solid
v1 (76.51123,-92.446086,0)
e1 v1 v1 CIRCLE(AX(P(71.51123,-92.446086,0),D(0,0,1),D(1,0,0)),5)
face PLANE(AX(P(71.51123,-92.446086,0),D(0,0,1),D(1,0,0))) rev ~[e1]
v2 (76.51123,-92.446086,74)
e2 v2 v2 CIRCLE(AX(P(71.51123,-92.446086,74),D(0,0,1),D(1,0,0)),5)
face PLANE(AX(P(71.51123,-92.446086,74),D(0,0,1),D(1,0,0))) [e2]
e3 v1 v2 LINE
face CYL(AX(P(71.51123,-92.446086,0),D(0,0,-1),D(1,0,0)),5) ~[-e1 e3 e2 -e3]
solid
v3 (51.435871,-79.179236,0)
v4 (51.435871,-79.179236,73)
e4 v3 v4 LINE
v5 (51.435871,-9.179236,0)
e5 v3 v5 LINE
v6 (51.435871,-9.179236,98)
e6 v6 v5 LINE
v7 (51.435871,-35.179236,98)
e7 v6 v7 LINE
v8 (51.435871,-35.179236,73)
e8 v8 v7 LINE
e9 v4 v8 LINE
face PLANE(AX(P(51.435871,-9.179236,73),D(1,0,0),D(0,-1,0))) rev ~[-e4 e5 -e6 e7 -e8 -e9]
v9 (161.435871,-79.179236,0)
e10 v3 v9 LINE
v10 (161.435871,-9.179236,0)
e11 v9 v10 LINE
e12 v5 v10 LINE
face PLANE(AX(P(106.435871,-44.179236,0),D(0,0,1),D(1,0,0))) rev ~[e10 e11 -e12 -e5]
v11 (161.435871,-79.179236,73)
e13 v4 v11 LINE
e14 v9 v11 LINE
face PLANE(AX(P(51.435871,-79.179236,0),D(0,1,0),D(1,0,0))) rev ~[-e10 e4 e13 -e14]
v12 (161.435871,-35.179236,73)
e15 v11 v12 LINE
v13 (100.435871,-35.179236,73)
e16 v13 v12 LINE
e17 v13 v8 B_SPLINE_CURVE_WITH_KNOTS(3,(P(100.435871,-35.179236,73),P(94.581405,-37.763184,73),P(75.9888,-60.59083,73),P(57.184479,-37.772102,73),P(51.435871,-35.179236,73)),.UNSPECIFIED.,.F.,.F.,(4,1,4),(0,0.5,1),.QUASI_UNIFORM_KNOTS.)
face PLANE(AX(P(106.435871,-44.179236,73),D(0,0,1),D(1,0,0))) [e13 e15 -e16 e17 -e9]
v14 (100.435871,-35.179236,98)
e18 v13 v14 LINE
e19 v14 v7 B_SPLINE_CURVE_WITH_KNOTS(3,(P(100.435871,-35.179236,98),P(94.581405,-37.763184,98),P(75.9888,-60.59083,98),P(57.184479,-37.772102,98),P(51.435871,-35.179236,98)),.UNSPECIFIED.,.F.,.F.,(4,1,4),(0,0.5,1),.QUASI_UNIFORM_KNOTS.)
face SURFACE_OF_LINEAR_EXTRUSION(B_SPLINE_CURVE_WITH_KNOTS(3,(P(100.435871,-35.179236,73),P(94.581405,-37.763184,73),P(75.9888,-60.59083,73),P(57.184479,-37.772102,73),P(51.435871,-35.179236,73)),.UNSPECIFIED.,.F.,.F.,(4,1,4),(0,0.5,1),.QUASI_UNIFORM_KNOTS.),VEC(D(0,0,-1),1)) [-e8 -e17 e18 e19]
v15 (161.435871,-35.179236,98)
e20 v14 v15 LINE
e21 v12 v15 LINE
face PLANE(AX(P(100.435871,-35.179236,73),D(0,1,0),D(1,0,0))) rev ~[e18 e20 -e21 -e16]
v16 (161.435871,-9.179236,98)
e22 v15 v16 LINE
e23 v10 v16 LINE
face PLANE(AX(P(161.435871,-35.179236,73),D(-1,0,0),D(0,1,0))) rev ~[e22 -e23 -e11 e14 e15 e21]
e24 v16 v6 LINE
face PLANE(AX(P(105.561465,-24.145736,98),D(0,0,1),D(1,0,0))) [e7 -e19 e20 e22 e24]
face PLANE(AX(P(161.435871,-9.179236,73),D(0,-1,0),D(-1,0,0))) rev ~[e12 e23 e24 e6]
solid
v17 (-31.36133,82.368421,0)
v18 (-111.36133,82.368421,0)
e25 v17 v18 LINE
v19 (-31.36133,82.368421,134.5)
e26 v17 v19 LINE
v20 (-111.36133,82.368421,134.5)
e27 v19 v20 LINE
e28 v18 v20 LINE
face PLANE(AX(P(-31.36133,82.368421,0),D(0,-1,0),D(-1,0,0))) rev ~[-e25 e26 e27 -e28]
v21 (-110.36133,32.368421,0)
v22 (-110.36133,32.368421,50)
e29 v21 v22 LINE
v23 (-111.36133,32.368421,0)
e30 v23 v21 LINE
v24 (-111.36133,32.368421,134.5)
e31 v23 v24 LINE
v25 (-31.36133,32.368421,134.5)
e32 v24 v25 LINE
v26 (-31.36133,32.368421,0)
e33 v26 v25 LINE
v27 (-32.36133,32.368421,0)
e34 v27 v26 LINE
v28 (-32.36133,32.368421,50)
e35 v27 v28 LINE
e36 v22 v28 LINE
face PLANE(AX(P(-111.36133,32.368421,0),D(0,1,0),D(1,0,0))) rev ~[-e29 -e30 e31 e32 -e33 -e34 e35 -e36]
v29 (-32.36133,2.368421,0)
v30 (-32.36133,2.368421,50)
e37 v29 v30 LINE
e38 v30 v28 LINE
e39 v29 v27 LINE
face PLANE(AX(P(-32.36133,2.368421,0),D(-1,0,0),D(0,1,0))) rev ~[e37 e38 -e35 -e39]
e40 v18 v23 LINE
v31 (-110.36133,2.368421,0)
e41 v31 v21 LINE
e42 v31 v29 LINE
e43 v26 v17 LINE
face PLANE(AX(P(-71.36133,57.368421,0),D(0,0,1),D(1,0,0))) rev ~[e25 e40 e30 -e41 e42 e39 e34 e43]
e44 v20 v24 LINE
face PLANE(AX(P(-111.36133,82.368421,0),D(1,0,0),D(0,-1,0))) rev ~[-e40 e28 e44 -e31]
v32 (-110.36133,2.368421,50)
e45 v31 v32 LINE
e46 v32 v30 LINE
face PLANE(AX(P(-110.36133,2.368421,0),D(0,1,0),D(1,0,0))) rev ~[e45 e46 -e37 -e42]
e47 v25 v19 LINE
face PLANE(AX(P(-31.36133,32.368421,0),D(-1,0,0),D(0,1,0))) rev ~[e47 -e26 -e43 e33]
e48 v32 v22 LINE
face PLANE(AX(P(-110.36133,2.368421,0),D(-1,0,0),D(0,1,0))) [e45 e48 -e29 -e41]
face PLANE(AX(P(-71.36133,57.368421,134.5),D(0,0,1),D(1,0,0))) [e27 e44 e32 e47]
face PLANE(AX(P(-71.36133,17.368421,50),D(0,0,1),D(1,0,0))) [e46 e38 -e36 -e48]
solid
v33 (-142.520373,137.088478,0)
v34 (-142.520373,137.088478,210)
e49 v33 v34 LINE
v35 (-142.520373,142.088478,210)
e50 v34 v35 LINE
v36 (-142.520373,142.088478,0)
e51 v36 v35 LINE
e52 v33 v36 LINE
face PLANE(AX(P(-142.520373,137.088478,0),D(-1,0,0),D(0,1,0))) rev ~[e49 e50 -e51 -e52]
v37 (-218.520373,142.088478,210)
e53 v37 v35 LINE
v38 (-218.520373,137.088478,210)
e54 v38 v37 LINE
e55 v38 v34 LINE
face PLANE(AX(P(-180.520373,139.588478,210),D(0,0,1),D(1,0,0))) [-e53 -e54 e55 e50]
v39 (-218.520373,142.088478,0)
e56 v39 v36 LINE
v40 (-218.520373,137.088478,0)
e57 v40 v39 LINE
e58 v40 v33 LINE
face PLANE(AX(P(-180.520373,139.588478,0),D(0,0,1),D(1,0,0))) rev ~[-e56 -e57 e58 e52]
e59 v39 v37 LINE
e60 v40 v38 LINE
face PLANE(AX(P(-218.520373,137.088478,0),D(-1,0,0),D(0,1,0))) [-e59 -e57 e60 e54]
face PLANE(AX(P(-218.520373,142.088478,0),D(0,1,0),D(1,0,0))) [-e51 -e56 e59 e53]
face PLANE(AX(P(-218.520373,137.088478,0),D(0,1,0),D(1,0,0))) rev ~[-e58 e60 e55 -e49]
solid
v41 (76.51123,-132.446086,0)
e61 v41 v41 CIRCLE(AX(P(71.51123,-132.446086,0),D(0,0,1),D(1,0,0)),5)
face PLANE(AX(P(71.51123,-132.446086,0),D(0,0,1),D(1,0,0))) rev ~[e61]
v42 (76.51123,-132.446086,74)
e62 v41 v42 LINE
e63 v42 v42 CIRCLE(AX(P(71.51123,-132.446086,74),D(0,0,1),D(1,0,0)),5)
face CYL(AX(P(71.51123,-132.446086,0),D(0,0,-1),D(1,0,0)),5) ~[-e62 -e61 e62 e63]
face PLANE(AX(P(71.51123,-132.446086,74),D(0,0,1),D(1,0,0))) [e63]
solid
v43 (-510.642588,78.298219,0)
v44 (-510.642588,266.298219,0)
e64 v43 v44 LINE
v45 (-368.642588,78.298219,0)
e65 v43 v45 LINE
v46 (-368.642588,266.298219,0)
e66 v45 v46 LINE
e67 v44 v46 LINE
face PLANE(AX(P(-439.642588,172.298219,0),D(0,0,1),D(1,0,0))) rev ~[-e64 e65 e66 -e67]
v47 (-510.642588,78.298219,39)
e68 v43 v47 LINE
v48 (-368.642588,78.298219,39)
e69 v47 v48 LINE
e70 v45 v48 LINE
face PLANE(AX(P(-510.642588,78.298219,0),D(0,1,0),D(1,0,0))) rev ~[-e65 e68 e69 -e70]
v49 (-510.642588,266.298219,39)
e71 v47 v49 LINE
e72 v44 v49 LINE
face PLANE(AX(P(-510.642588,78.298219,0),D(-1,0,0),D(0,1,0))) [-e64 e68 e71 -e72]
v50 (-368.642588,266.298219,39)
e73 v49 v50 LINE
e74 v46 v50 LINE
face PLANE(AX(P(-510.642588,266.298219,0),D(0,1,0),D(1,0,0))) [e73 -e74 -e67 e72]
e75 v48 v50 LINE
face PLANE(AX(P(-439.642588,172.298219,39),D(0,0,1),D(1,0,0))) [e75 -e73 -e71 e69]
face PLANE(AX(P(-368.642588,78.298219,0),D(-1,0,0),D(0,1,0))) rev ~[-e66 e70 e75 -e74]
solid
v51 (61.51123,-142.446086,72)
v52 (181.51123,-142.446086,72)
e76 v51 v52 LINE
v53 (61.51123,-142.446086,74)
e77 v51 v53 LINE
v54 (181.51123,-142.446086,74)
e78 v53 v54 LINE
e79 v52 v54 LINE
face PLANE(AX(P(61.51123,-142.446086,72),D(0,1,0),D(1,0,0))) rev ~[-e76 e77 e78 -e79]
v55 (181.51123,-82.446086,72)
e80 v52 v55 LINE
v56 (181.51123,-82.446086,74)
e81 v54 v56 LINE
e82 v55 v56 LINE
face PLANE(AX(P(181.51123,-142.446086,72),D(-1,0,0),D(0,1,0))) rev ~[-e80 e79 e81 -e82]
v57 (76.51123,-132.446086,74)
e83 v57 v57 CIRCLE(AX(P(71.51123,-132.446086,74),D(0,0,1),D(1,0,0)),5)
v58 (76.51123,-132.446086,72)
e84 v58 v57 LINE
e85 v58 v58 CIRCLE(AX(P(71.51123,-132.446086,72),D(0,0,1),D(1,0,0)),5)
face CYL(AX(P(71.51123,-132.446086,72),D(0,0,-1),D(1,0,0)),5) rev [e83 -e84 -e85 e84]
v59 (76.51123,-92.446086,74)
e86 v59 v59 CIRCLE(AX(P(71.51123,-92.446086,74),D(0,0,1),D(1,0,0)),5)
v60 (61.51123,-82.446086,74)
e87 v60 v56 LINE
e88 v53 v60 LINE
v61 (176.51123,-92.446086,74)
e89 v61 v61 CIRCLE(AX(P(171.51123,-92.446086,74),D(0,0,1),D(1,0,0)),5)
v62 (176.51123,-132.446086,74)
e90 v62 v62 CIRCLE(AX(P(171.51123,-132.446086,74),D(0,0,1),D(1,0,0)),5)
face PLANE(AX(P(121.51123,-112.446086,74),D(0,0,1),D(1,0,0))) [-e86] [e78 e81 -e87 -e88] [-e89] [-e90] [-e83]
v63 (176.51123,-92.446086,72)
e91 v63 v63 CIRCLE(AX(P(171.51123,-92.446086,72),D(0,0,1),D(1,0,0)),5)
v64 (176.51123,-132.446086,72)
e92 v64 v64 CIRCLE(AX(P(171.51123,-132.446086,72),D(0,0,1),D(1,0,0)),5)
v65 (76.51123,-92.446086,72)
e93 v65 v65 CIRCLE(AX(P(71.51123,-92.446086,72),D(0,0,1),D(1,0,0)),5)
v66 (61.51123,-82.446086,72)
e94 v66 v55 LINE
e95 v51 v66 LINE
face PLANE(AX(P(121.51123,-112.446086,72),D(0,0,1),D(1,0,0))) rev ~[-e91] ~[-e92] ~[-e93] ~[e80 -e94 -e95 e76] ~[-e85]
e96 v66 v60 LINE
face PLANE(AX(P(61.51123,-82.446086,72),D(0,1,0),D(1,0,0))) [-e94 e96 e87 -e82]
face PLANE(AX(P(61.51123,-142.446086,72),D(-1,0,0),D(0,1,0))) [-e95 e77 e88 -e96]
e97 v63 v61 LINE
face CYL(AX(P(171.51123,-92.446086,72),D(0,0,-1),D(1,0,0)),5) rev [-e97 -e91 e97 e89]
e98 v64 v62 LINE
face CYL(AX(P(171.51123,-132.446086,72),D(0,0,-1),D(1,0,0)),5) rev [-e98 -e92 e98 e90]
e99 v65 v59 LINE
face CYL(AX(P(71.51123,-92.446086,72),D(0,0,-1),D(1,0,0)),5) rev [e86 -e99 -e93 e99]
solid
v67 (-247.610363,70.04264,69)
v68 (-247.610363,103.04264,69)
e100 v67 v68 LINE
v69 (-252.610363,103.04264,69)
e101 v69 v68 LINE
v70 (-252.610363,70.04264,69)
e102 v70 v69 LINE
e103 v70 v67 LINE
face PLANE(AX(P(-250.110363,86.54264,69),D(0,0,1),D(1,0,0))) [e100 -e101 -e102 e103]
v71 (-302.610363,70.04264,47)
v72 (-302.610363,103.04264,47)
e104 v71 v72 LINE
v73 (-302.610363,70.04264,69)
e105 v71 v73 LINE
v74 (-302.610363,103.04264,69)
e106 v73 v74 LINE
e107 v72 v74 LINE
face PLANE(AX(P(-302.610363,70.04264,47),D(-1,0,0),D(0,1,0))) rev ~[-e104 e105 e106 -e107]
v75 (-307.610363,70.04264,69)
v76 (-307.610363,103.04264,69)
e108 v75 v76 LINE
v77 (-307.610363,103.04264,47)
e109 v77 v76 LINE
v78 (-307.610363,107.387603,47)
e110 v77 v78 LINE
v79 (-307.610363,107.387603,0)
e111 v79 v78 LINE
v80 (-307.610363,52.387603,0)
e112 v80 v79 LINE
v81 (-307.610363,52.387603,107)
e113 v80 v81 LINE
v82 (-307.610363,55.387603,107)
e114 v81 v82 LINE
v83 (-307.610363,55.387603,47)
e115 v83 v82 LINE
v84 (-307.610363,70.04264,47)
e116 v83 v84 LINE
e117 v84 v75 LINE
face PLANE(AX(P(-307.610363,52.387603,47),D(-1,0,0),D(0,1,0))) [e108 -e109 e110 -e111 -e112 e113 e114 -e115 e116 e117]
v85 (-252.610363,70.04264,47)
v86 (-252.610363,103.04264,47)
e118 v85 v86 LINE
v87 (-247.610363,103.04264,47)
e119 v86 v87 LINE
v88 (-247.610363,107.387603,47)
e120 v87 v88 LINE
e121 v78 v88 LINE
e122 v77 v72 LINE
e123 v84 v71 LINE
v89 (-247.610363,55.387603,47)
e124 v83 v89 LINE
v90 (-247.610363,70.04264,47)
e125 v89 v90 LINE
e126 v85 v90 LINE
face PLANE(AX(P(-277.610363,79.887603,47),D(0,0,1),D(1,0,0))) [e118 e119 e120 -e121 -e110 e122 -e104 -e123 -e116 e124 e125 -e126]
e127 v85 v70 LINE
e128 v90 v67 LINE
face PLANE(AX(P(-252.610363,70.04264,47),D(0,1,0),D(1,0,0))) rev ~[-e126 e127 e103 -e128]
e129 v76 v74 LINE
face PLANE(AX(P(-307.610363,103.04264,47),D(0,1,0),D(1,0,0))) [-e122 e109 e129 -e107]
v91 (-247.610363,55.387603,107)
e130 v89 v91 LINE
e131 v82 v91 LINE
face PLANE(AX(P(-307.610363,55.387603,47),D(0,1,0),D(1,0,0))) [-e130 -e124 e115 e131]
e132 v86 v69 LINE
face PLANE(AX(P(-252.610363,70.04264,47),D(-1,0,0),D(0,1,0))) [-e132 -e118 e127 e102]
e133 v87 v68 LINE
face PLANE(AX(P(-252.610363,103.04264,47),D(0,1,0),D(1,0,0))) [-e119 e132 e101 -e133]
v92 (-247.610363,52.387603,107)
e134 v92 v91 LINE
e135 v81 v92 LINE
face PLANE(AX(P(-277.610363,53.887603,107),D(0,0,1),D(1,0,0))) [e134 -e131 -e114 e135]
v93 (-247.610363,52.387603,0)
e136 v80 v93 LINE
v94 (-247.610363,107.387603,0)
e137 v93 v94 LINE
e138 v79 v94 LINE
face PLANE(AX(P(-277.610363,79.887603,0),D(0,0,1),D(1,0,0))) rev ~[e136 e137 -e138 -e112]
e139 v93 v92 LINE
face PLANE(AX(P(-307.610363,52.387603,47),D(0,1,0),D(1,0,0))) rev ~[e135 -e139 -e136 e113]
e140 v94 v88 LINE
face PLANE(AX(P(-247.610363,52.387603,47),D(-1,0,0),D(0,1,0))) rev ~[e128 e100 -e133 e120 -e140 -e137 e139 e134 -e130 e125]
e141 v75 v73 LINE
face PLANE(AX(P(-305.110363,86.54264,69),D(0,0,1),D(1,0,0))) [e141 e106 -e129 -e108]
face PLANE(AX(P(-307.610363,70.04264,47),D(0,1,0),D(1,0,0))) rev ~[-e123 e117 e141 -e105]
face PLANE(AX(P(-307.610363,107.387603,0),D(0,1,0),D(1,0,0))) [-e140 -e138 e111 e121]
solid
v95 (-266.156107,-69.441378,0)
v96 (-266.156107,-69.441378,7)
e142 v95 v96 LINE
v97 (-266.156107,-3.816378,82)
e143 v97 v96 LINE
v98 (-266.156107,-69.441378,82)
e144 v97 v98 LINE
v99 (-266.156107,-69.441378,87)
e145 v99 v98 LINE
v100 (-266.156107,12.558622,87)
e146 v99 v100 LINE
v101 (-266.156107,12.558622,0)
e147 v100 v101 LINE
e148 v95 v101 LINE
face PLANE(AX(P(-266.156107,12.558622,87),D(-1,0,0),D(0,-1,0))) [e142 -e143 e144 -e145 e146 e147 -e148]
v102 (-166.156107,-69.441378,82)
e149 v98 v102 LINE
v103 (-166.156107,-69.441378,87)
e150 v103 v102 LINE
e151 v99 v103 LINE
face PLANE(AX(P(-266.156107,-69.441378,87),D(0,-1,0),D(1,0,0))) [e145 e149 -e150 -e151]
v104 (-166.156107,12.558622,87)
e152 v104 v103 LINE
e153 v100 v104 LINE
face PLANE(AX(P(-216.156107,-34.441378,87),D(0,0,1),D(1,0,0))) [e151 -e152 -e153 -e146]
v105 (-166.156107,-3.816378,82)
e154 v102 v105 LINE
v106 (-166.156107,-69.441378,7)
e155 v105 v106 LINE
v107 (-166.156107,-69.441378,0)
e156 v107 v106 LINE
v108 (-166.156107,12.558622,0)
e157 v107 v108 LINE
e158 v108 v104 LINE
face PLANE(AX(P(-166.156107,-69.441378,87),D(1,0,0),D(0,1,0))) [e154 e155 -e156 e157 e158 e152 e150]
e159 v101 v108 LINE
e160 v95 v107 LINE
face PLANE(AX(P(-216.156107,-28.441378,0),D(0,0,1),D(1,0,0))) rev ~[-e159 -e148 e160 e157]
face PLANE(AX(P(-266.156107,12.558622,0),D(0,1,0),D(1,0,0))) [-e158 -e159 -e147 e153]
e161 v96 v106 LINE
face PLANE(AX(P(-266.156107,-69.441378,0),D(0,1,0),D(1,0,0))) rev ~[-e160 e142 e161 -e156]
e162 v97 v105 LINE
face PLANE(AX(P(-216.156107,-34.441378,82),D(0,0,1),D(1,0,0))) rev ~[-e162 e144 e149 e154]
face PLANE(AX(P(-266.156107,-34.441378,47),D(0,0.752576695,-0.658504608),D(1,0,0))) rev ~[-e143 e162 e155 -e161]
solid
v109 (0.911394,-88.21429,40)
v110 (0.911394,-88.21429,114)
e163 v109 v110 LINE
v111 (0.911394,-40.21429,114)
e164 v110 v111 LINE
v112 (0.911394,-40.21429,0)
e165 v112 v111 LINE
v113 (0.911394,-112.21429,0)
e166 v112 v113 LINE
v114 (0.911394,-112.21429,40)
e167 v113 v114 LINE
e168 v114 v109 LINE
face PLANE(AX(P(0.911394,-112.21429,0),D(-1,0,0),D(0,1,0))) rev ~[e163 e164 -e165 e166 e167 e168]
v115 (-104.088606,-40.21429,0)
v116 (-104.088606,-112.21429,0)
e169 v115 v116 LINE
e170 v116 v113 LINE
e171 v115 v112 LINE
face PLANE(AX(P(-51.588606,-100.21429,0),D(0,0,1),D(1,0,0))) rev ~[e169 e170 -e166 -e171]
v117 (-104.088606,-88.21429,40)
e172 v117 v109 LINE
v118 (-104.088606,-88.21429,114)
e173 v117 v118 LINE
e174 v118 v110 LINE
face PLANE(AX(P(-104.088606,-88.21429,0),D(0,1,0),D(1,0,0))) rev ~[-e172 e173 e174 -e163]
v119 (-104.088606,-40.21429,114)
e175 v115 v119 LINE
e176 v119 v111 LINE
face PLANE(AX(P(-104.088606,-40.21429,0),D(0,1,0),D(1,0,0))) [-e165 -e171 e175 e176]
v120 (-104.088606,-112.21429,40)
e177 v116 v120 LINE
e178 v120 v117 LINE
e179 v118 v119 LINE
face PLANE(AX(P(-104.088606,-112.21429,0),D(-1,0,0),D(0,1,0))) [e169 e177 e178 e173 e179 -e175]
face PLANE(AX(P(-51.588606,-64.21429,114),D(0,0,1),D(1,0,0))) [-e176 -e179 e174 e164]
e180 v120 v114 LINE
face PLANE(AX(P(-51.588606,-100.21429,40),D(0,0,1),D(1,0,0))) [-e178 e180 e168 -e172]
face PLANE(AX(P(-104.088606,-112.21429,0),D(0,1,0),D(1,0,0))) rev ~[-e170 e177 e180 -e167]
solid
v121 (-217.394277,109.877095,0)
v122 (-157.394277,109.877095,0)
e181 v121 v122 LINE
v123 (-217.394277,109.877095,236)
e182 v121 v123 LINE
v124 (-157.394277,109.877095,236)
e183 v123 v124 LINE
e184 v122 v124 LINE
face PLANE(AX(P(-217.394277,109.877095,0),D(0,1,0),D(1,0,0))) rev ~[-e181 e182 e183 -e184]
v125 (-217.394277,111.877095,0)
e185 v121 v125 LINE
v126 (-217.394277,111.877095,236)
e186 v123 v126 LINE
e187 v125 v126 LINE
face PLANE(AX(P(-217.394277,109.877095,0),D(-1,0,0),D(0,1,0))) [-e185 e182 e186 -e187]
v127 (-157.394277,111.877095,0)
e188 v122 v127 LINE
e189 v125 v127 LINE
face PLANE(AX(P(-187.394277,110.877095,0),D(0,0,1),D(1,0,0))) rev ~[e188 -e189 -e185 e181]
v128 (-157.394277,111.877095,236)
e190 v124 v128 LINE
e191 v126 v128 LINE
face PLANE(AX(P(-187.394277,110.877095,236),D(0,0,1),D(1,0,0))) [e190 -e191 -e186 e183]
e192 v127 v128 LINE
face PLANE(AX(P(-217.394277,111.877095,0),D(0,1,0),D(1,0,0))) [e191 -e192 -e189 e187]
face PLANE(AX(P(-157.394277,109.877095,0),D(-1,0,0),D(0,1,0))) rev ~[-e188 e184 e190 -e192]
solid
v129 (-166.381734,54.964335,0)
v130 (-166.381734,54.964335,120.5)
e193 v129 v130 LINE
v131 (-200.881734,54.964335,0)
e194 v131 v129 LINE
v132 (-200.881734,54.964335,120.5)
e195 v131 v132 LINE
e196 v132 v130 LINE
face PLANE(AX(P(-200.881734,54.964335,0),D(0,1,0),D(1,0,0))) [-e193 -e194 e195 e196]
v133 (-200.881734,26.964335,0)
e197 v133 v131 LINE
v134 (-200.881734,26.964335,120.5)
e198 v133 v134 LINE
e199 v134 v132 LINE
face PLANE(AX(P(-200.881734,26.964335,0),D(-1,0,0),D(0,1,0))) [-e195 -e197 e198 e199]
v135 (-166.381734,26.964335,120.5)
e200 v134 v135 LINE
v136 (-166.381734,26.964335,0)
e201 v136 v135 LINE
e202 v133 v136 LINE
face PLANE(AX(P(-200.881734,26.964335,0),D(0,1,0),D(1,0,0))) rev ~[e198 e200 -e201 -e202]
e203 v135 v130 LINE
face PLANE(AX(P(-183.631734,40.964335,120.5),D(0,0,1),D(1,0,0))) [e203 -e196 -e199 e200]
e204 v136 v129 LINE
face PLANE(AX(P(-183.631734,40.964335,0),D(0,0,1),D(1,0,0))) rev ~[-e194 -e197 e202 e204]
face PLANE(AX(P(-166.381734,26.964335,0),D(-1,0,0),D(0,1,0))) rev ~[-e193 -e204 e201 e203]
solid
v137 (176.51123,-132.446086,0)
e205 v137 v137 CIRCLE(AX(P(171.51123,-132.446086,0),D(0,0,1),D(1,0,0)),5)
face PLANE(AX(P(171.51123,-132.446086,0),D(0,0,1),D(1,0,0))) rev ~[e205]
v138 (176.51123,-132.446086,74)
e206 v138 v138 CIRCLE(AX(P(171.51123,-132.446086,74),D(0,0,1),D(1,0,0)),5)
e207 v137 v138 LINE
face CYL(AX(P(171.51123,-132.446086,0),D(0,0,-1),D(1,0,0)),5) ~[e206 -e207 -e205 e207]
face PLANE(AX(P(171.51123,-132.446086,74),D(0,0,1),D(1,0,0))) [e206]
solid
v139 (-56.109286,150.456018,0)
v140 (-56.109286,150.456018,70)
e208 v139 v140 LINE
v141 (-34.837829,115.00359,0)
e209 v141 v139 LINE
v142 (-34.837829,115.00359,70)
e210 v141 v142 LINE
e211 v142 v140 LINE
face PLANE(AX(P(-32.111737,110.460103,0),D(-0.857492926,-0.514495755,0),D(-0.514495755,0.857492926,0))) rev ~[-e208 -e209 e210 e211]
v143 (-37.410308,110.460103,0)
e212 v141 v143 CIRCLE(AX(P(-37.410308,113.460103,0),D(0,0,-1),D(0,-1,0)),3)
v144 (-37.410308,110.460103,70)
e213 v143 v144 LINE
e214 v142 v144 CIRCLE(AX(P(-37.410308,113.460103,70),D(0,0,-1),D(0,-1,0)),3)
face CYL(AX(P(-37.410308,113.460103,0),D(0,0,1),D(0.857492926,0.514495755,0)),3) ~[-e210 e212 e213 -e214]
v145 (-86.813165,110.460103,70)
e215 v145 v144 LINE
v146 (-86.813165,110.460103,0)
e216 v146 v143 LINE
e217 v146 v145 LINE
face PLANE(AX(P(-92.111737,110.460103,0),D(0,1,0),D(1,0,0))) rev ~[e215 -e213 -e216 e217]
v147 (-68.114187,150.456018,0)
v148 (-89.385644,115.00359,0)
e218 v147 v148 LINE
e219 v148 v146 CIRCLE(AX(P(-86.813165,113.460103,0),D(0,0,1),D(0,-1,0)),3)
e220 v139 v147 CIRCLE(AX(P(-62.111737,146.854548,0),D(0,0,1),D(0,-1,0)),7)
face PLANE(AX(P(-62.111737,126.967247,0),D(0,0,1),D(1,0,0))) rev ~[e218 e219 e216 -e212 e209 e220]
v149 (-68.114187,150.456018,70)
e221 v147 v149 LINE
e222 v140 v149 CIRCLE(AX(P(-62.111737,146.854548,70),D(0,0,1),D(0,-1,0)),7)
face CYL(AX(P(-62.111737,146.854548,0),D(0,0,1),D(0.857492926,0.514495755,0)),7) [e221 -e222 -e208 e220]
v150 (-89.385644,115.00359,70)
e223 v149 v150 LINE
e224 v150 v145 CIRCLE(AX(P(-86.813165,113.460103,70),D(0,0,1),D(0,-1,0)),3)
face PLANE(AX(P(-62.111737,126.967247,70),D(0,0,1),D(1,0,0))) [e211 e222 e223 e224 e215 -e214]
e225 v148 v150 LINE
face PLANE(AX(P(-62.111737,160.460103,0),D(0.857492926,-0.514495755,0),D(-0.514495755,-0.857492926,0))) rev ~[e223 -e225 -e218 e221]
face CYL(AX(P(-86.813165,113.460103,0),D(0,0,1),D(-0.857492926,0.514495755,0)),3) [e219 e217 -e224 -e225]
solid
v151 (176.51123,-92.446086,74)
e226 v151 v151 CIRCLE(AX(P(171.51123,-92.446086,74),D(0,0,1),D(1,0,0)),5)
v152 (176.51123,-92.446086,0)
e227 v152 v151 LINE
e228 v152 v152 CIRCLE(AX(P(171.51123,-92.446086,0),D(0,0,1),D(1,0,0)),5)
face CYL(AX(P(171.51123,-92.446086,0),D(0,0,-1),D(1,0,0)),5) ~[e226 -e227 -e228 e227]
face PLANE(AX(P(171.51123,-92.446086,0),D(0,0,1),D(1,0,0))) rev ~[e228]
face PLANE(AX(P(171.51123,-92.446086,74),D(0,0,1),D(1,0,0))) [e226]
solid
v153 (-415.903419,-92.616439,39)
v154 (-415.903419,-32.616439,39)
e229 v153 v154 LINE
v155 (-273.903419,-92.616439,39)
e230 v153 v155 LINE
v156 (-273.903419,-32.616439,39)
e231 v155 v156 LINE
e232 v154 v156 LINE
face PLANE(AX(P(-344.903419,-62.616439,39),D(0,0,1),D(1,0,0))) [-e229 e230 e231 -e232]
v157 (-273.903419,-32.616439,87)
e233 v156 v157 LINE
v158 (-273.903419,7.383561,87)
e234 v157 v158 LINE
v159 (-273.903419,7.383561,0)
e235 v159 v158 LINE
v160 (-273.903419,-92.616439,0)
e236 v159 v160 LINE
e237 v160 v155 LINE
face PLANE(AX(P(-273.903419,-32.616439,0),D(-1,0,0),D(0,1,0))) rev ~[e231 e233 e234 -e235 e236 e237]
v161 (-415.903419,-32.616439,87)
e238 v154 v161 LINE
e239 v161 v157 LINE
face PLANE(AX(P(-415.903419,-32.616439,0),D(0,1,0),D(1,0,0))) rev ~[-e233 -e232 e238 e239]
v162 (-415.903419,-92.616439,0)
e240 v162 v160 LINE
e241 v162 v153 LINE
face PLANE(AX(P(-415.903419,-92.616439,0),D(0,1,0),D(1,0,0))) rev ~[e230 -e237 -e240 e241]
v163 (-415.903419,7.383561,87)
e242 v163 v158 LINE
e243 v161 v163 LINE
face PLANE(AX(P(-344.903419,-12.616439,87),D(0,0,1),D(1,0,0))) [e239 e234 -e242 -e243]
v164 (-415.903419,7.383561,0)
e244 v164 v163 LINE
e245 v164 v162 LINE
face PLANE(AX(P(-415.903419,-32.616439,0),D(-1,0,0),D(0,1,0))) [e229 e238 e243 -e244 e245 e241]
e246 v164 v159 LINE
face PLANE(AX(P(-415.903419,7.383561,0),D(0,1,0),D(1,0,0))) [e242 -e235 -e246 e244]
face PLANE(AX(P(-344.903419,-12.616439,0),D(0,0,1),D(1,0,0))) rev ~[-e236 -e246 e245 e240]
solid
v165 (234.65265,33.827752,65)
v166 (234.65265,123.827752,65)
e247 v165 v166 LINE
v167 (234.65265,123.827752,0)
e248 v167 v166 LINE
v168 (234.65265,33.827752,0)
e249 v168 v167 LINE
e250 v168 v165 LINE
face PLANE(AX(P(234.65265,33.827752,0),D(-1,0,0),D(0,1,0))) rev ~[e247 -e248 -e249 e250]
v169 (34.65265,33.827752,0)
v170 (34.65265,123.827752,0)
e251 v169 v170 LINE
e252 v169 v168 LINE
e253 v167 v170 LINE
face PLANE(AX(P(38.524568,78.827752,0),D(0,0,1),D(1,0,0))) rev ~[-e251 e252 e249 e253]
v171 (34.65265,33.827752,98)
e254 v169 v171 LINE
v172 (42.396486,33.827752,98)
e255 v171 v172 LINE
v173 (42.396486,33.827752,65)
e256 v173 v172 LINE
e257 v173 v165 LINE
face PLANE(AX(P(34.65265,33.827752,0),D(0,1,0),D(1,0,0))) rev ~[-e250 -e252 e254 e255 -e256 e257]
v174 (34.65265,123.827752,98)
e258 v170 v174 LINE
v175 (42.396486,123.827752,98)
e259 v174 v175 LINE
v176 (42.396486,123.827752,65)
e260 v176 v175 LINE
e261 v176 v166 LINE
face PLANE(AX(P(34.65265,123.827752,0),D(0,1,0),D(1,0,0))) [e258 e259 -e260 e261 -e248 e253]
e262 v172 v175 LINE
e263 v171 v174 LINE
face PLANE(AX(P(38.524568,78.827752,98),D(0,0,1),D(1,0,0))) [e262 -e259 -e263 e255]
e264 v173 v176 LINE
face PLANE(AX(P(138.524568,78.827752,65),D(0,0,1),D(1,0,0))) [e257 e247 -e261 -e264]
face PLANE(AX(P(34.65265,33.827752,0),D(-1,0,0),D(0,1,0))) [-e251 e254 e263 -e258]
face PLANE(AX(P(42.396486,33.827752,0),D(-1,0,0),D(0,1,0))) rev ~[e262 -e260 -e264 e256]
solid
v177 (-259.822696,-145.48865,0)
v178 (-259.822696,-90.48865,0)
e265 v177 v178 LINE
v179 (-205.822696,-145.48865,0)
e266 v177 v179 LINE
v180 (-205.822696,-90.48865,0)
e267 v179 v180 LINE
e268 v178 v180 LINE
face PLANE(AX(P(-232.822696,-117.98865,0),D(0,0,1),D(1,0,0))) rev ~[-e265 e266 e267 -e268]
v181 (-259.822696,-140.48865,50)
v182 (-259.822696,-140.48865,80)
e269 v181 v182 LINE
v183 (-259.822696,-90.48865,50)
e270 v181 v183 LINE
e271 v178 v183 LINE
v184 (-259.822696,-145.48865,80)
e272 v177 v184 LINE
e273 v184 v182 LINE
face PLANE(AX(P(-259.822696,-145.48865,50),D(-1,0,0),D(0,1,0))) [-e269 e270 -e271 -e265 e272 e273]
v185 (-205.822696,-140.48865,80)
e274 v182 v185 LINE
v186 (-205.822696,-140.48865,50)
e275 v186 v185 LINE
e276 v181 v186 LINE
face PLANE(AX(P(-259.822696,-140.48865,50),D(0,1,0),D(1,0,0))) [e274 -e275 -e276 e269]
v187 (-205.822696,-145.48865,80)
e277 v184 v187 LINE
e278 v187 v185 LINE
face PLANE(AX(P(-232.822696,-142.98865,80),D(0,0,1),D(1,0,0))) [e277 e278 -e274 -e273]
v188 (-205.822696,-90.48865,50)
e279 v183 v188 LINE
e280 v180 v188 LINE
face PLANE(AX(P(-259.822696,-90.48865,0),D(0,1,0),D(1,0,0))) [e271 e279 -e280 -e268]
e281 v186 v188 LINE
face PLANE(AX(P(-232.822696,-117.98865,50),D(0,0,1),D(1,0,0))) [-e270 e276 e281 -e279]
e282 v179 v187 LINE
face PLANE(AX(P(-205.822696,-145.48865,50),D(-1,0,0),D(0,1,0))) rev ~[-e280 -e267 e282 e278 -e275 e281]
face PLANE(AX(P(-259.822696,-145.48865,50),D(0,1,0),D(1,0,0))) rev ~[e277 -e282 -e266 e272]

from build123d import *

# Parameters (mm, degrees)
F1_DEPTH  = 134.5
F0_W      = 78
F0_H      = 30
F2_DEPTH  = 50
F0_W_2    = 192.2561641597
F0_H_2    = 90
F3_DEPTH  = 65
F0_W_3    = 7.7438358403
F4_DEPTH  = 98
F0_W_4    = 110
F0_H_3    = 70
F5_DEPTH  = 73
F0_W_5    = 105
F0_H_4    = 48
F6_DEPTH  = 114
F8_DEPTH  = 25
F0_R      = 5
F9_DEPTH  = 74
F10_START = 72
F0_W_6    = 120
F0_H_5    = 60
F10_DEPTH = 2
F0_W_7    = 34.5
F0_H_6    = 28
F11_DEPTH = 120.5
F0_W_8    = 100
F0_H_7    = 82
F12_DEPTH = 87
F0_W_9    = 76
F0_H_8    = 5
F13_DEPTH = 210
F0_W_10   = 60
F0_H_9    = 2
F14_DEPTH = 236
F0_H_10   = 24
F15_DEPTH = 40
F16_SIZE2 = 80
F16_SIZE  = 70
F17_W     = 100
F17_H     = 70
F17_H_2   = 12
F18_DEPTH = 5
F0_H_11   = 55
F19_DEPTH = 47
F0_W_11   = 54
F20_DEPTH = 50
F21_W     = 5
F21_H     = 33
F22_DEPTH = 22
F21_W_2   = 60
F21_H_2   = 3
F23_DEPTH = 60
F24_W     = 54
F24_H     = 5
F25_DEPTH = 30
F26_DEPTH = 70
F27_R     = 3
F28_R     = 7
F0_W_12   = 142
F29_DEPTH = 39
F0_H_12   = 188
F0_H_13   = 40
F30_DEPTH = 87


with BuildPart() as f1:
    # F0 (on Top) → F1 (new body)
    with BuildSketch(Plane.XY):
        Polygon((-31.3613304122, 82.3684212938), (-111.3613304122, 82.3684212938), (-111.3613304122, 32.3684212938), (-110.3613304122, 32.3684212938), (-32.3613304122, 32.3684212938), (-31.3613304122, 32.3684212938), align=None)
    extrude(amount=F1_DEPTH)

    # F0 (on Top) → F2 (join)
    with BuildSketch(Plane.XY):
        with Locations((-71.3613304122, 17.3684212938)):
            Rectangle(F0_W, F0_H)
    extrude(amount=F2_DEPTH)


with BuildPart() as f3:
    # F0 (on Top) → F3 (new body)
    with BuildSketch(Plane.XY):
        with Locations((138.5245678854, 78.8277519985)):
            Rectangle(F0_W_2, F0_H_2)
    extrude(amount=F3_DEPTH)

    # F0 (on Top) → F4 (join)
    with BuildSketch(Plane.XY):
        with Locations((38.5245678854, 78.8277519985)):
            Rectangle(F0_W_3, F0_H_2)
    extrude(amount=F4_DEPTH)


with BuildPart() as f5:
    # F0 (on Top) → F5 (new body)
    with BuildSketch(Plane.XY):
        with Locations((106.4358714005, -44.1792364303)):
            Rectangle(F0_W_4, F0_H_3)
    extrude(amount=F5_DEPTH)

    # F7 (on face) → F8 (join)
    with BuildSketch(Plane.XY.offset(73)):
        with BuildLine():
            Line((100.4358714005, -35.1792364303), (161.4358714005, -35.1792364303))
            Line((161.4358714005, -35.1792364303), (161.4358714005, -9.1792364303))
            Line((161.4358714005, -9.1792364303), (51.4358714005, -9.1792364303))
            Line((51.4358714005, -9.1792364303), (51.4358714005, -35.1792364303))
            add(Edge.make_bspline(
                [(100.4358714005, -35.1792364303), (94.5814052077, -37.7631840456), (75.9888004838, -60.5908300163), (57.1844794266, -37.7721016431), (51.4358714005, -35.1792364303)],
                knots=[0, 0, 0, 0, 0.5, 1, 1, 1, 1], degree=3))
        make_face()
    extrude(amount=F8_DEPTH)


with BuildPart() as f6:
    # F0 (on Top) → F6 (new body)
    with BuildSketch(Plane.XY):
        with Locations((-51.5886056993, -64.2142896056)):
            Rectangle(F0_W_5, F0_H_4)
    extrude(amount=F6_DEPTH)

    # F0 (on Top) → F15 (join)
    with BuildSketch(Plane.XY):
        with Locations((-51.5886056993, -100.2142896056)):
            Rectangle(F0_W_5, F0_H_10)
    extrude(amount=F15_DEPTH)


with BuildPart() as f9:
    # F0 (on Top) → F9 (new body)
    with BuildSketch(Plane.XY):
        with Locations((71.5112297237, -92.4460858107)):
            Circle(F0_R)
    extrude(amount=F9_DEPTH)


with BuildPart() as f9b:
    # F0 (on Top) → F9, piece 2 (new body)
    with BuildSketch(Plane.XY):
        with Locations((171.5112297237, -92.4460858107)):
            Circle(F0_R)
    extrude(amount=F9_DEPTH)


with BuildPart() as f9c:
    # F0 (on Top) → F9, piece 3 (new body)
    with BuildSketch(Plane.XY):
        with Locations((171.5112297237, -132.4460858107)):
            Circle(F0_R)
    extrude(amount=F9_DEPTH)


with BuildPart() as f9d:
    # F0 (on Top) → F9, piece 4 (new body)
    with BuildSketch(Plane.XY):
        with Locations((71.5112297237, -132.4460858107)):
            Circle(F0_R)
    extrude(amount=F9_DEPTH)


with BuildPart() as f10:
    # F0 (on Top) → F10 (new body)
    with BuildSketch(Plane.XY.offset(F10_START)):
        with Locations((121.5112297237, -112.4460858107)):
            Rectangle(F0_W_6, F0_H_5)
        with Locations((71.5112297237, -132.4460858107)):
            Circle(F0_R, mode=Mode.SUBTRACT)
        with Locations((171.5112297237, -132.4460858107)):
            Circle(F0_R, mode=Mode.SUBTRACT)
        with Locations((71.5112297237, -92.4460858107)):
            Circle(F0_R, mode=Mode.SUBTRACT)
        with Locations((171.5112297237, -92.4460858107)):
            Circle(F0_R, mode=Mode.SUBTRACT)
    extrude(amount=F10_DEPTH)


with BuildPart() as f11:
    # F0 (on Top) → F11 (new body)
    with BuildSketch(Plane.XY):
        with Locations((-183.6317344904, 40.964334771)):
            Rectangle(F0_W_7, F0_H_6)
    extrude(amount=F11_DEPTH)


with BuildPart() as f12:
    # F0 (on Top) → F12 (new body)
    with BuildSketch(Plane.XY):
        with Locations((-216.1561071873, -28.4413781166)):
            Rectangle(F0_W_8, F0_H_7)
    extrude(amount=F12_DEPTH)

    # F16
    f16_edges = [f12.edges().sort_by_distance(p)[0] for p in [
        (-216.156107, -69.441378, 87),
    ]]
    f16_side = f12.faces().sort_by_distance((-216.156107, -28.441378, 87))[0]
    chamfer(f16_edges, length=F16_SIZE, length2=F16_SIZE2, reference=f16_side)

    # F17 (on face) → F18 (join)
    with BuildSketch(Plane.XY.offset(87)):
        with Locations((-216.1561071873, -34.4413781166)):
            Rectangle(F17_W, F17_H)
        with Locations((-216.1561071873, 6.5586218834)):
            Rectangle(F17_W, F17_H_2)
    extrude(amount=-F18_DEPTH)


with BuildPart() as f13:
    # F0 (on Top) → F13 (new body)
    with BuildSketch(Plane.XY):
        with Locations((-180.520373106, 139.5884776115)):
            Rectangle(F0_W_9, F0_H_8)
    extrude(amount=F13_DEPTH)


with BuildPart() as f14:
    # F0 (on Top) → F14 (new body)
    with BuildSketch(Plane.XY):
        with Locations((-187.3942774534, 110.8770946264)):
            Rectangle(F0_W_10, F0_H_9)
    extrude(amount=F14_DEPTH)


with BuildPart() as f19:
    # F0 (on Top) → F19 (new body)
    with BuildSketch(Plane.XY):
        with Locations((-277.6103627682, 79.8876026273)):
            Rectangle(F0_W_10, F0_H_11)
    extrude(amount=F19_DEPTH)

    # F21 (on face) → F22 (join)
    with BuildSketch(Plane.XY.offset(47)):
        with Locations((-305.1103627682, 86.5426399708)):
            Rectangle(F21_W, F21_H)
        with Locations((-250.1103627682, 86.5426399708)):
            Rectangle(F21_W, F21_H)
    extrude(amount=F22_DEPTH)

    # F21 (on face) → F23 (join)
    with BuildSketch(Plane.XY.offset(47)):
        with Locations((-277.6103627682, 53.8876026273)):
            Rectangle(F21_W_2, F21_H_2)
    extrude(amount=F23_DEPTH)


with BuildPart() as f20:
    # F0 (on Top) → F20 (new body)
    with BuildSketch(Plane.XY):
        with Locations((-232.8226964474, -117.9886496067)):
            Rectangle(F0_W_11, F0_H_11)
    extrude(amount=F20_DEPTH)

    # F24 (on face) → F25 (join)
    with BuildSketch(Plane.XY.offset(50)):
        with Locations((-232.8226964474, -142.9886496067)):
            Rectangle(F24_W, F24_H)
    extrude(amount=F25_DEPTH)


with BuildPart() as f26:
    # F0 (on Top) → F26 (new body)
    with BuildSketch(Plane.XY):
        Polygon((-32.111736536, 110.4601025581), (-62.111736536, 160.4601025581), (-92.111736536, 110.4601025581), align=None)
    extrude(amount=F26_DEPTH)

    # F27
    f27_edges = [f26.edges().sort_by_distance(p)[0] for p in [
        (-92.111737, 110.460103, 35),
        (-32.111737, 110.460103, 35),
    ]]
    fillet(f27_edges, radius=F27_R)

    # F28
    f28_edges = [f26.edges().sort_by_distance(p)[0] for p in [
        (-62.111737, 160.460103, 35),
    ]]
    fillet(f28_edges, radius=F28_R)


with BuildPart() as f29:
    # F0 (on Top) → F29 (new body)
    with BuildSketch(Plane.XY):
        with Locations((-344.9034192562, -62.6164388657)):
            Rectangle(F0_W_12, F0_H_5)
    extrude(amount=F29_DEPTH)

    # F0 (on Top) → F30 (join)
    with BuildSketch(Plane.XY):
        with Locations((-344.9034192562, -12.6164388657)):
            Rectangle(F0_W_12, F0_H_13)
    extrude(amount=F30_DEPTH)


with BuildPart() as f29b:
    # F0 (on Top) → F29, piece 2 (new body)
    with BuildSketch(Plane.XY):
        with Locations((-439.6425881386, 172.2982185483)):
            Rectangle(F0_W_12, F0_H_12)
    extrude(amount=F29_DEPTH)


solid = Compound([f1.part, f3.part, f5.part, f6.part, f9.part, f9b.part, f9c.part, f9d.part, f10.part, f11.part, f12.part, f13.part, f14.part, f19.part, f20.part, f26.part, f29.part, f29b.part])
